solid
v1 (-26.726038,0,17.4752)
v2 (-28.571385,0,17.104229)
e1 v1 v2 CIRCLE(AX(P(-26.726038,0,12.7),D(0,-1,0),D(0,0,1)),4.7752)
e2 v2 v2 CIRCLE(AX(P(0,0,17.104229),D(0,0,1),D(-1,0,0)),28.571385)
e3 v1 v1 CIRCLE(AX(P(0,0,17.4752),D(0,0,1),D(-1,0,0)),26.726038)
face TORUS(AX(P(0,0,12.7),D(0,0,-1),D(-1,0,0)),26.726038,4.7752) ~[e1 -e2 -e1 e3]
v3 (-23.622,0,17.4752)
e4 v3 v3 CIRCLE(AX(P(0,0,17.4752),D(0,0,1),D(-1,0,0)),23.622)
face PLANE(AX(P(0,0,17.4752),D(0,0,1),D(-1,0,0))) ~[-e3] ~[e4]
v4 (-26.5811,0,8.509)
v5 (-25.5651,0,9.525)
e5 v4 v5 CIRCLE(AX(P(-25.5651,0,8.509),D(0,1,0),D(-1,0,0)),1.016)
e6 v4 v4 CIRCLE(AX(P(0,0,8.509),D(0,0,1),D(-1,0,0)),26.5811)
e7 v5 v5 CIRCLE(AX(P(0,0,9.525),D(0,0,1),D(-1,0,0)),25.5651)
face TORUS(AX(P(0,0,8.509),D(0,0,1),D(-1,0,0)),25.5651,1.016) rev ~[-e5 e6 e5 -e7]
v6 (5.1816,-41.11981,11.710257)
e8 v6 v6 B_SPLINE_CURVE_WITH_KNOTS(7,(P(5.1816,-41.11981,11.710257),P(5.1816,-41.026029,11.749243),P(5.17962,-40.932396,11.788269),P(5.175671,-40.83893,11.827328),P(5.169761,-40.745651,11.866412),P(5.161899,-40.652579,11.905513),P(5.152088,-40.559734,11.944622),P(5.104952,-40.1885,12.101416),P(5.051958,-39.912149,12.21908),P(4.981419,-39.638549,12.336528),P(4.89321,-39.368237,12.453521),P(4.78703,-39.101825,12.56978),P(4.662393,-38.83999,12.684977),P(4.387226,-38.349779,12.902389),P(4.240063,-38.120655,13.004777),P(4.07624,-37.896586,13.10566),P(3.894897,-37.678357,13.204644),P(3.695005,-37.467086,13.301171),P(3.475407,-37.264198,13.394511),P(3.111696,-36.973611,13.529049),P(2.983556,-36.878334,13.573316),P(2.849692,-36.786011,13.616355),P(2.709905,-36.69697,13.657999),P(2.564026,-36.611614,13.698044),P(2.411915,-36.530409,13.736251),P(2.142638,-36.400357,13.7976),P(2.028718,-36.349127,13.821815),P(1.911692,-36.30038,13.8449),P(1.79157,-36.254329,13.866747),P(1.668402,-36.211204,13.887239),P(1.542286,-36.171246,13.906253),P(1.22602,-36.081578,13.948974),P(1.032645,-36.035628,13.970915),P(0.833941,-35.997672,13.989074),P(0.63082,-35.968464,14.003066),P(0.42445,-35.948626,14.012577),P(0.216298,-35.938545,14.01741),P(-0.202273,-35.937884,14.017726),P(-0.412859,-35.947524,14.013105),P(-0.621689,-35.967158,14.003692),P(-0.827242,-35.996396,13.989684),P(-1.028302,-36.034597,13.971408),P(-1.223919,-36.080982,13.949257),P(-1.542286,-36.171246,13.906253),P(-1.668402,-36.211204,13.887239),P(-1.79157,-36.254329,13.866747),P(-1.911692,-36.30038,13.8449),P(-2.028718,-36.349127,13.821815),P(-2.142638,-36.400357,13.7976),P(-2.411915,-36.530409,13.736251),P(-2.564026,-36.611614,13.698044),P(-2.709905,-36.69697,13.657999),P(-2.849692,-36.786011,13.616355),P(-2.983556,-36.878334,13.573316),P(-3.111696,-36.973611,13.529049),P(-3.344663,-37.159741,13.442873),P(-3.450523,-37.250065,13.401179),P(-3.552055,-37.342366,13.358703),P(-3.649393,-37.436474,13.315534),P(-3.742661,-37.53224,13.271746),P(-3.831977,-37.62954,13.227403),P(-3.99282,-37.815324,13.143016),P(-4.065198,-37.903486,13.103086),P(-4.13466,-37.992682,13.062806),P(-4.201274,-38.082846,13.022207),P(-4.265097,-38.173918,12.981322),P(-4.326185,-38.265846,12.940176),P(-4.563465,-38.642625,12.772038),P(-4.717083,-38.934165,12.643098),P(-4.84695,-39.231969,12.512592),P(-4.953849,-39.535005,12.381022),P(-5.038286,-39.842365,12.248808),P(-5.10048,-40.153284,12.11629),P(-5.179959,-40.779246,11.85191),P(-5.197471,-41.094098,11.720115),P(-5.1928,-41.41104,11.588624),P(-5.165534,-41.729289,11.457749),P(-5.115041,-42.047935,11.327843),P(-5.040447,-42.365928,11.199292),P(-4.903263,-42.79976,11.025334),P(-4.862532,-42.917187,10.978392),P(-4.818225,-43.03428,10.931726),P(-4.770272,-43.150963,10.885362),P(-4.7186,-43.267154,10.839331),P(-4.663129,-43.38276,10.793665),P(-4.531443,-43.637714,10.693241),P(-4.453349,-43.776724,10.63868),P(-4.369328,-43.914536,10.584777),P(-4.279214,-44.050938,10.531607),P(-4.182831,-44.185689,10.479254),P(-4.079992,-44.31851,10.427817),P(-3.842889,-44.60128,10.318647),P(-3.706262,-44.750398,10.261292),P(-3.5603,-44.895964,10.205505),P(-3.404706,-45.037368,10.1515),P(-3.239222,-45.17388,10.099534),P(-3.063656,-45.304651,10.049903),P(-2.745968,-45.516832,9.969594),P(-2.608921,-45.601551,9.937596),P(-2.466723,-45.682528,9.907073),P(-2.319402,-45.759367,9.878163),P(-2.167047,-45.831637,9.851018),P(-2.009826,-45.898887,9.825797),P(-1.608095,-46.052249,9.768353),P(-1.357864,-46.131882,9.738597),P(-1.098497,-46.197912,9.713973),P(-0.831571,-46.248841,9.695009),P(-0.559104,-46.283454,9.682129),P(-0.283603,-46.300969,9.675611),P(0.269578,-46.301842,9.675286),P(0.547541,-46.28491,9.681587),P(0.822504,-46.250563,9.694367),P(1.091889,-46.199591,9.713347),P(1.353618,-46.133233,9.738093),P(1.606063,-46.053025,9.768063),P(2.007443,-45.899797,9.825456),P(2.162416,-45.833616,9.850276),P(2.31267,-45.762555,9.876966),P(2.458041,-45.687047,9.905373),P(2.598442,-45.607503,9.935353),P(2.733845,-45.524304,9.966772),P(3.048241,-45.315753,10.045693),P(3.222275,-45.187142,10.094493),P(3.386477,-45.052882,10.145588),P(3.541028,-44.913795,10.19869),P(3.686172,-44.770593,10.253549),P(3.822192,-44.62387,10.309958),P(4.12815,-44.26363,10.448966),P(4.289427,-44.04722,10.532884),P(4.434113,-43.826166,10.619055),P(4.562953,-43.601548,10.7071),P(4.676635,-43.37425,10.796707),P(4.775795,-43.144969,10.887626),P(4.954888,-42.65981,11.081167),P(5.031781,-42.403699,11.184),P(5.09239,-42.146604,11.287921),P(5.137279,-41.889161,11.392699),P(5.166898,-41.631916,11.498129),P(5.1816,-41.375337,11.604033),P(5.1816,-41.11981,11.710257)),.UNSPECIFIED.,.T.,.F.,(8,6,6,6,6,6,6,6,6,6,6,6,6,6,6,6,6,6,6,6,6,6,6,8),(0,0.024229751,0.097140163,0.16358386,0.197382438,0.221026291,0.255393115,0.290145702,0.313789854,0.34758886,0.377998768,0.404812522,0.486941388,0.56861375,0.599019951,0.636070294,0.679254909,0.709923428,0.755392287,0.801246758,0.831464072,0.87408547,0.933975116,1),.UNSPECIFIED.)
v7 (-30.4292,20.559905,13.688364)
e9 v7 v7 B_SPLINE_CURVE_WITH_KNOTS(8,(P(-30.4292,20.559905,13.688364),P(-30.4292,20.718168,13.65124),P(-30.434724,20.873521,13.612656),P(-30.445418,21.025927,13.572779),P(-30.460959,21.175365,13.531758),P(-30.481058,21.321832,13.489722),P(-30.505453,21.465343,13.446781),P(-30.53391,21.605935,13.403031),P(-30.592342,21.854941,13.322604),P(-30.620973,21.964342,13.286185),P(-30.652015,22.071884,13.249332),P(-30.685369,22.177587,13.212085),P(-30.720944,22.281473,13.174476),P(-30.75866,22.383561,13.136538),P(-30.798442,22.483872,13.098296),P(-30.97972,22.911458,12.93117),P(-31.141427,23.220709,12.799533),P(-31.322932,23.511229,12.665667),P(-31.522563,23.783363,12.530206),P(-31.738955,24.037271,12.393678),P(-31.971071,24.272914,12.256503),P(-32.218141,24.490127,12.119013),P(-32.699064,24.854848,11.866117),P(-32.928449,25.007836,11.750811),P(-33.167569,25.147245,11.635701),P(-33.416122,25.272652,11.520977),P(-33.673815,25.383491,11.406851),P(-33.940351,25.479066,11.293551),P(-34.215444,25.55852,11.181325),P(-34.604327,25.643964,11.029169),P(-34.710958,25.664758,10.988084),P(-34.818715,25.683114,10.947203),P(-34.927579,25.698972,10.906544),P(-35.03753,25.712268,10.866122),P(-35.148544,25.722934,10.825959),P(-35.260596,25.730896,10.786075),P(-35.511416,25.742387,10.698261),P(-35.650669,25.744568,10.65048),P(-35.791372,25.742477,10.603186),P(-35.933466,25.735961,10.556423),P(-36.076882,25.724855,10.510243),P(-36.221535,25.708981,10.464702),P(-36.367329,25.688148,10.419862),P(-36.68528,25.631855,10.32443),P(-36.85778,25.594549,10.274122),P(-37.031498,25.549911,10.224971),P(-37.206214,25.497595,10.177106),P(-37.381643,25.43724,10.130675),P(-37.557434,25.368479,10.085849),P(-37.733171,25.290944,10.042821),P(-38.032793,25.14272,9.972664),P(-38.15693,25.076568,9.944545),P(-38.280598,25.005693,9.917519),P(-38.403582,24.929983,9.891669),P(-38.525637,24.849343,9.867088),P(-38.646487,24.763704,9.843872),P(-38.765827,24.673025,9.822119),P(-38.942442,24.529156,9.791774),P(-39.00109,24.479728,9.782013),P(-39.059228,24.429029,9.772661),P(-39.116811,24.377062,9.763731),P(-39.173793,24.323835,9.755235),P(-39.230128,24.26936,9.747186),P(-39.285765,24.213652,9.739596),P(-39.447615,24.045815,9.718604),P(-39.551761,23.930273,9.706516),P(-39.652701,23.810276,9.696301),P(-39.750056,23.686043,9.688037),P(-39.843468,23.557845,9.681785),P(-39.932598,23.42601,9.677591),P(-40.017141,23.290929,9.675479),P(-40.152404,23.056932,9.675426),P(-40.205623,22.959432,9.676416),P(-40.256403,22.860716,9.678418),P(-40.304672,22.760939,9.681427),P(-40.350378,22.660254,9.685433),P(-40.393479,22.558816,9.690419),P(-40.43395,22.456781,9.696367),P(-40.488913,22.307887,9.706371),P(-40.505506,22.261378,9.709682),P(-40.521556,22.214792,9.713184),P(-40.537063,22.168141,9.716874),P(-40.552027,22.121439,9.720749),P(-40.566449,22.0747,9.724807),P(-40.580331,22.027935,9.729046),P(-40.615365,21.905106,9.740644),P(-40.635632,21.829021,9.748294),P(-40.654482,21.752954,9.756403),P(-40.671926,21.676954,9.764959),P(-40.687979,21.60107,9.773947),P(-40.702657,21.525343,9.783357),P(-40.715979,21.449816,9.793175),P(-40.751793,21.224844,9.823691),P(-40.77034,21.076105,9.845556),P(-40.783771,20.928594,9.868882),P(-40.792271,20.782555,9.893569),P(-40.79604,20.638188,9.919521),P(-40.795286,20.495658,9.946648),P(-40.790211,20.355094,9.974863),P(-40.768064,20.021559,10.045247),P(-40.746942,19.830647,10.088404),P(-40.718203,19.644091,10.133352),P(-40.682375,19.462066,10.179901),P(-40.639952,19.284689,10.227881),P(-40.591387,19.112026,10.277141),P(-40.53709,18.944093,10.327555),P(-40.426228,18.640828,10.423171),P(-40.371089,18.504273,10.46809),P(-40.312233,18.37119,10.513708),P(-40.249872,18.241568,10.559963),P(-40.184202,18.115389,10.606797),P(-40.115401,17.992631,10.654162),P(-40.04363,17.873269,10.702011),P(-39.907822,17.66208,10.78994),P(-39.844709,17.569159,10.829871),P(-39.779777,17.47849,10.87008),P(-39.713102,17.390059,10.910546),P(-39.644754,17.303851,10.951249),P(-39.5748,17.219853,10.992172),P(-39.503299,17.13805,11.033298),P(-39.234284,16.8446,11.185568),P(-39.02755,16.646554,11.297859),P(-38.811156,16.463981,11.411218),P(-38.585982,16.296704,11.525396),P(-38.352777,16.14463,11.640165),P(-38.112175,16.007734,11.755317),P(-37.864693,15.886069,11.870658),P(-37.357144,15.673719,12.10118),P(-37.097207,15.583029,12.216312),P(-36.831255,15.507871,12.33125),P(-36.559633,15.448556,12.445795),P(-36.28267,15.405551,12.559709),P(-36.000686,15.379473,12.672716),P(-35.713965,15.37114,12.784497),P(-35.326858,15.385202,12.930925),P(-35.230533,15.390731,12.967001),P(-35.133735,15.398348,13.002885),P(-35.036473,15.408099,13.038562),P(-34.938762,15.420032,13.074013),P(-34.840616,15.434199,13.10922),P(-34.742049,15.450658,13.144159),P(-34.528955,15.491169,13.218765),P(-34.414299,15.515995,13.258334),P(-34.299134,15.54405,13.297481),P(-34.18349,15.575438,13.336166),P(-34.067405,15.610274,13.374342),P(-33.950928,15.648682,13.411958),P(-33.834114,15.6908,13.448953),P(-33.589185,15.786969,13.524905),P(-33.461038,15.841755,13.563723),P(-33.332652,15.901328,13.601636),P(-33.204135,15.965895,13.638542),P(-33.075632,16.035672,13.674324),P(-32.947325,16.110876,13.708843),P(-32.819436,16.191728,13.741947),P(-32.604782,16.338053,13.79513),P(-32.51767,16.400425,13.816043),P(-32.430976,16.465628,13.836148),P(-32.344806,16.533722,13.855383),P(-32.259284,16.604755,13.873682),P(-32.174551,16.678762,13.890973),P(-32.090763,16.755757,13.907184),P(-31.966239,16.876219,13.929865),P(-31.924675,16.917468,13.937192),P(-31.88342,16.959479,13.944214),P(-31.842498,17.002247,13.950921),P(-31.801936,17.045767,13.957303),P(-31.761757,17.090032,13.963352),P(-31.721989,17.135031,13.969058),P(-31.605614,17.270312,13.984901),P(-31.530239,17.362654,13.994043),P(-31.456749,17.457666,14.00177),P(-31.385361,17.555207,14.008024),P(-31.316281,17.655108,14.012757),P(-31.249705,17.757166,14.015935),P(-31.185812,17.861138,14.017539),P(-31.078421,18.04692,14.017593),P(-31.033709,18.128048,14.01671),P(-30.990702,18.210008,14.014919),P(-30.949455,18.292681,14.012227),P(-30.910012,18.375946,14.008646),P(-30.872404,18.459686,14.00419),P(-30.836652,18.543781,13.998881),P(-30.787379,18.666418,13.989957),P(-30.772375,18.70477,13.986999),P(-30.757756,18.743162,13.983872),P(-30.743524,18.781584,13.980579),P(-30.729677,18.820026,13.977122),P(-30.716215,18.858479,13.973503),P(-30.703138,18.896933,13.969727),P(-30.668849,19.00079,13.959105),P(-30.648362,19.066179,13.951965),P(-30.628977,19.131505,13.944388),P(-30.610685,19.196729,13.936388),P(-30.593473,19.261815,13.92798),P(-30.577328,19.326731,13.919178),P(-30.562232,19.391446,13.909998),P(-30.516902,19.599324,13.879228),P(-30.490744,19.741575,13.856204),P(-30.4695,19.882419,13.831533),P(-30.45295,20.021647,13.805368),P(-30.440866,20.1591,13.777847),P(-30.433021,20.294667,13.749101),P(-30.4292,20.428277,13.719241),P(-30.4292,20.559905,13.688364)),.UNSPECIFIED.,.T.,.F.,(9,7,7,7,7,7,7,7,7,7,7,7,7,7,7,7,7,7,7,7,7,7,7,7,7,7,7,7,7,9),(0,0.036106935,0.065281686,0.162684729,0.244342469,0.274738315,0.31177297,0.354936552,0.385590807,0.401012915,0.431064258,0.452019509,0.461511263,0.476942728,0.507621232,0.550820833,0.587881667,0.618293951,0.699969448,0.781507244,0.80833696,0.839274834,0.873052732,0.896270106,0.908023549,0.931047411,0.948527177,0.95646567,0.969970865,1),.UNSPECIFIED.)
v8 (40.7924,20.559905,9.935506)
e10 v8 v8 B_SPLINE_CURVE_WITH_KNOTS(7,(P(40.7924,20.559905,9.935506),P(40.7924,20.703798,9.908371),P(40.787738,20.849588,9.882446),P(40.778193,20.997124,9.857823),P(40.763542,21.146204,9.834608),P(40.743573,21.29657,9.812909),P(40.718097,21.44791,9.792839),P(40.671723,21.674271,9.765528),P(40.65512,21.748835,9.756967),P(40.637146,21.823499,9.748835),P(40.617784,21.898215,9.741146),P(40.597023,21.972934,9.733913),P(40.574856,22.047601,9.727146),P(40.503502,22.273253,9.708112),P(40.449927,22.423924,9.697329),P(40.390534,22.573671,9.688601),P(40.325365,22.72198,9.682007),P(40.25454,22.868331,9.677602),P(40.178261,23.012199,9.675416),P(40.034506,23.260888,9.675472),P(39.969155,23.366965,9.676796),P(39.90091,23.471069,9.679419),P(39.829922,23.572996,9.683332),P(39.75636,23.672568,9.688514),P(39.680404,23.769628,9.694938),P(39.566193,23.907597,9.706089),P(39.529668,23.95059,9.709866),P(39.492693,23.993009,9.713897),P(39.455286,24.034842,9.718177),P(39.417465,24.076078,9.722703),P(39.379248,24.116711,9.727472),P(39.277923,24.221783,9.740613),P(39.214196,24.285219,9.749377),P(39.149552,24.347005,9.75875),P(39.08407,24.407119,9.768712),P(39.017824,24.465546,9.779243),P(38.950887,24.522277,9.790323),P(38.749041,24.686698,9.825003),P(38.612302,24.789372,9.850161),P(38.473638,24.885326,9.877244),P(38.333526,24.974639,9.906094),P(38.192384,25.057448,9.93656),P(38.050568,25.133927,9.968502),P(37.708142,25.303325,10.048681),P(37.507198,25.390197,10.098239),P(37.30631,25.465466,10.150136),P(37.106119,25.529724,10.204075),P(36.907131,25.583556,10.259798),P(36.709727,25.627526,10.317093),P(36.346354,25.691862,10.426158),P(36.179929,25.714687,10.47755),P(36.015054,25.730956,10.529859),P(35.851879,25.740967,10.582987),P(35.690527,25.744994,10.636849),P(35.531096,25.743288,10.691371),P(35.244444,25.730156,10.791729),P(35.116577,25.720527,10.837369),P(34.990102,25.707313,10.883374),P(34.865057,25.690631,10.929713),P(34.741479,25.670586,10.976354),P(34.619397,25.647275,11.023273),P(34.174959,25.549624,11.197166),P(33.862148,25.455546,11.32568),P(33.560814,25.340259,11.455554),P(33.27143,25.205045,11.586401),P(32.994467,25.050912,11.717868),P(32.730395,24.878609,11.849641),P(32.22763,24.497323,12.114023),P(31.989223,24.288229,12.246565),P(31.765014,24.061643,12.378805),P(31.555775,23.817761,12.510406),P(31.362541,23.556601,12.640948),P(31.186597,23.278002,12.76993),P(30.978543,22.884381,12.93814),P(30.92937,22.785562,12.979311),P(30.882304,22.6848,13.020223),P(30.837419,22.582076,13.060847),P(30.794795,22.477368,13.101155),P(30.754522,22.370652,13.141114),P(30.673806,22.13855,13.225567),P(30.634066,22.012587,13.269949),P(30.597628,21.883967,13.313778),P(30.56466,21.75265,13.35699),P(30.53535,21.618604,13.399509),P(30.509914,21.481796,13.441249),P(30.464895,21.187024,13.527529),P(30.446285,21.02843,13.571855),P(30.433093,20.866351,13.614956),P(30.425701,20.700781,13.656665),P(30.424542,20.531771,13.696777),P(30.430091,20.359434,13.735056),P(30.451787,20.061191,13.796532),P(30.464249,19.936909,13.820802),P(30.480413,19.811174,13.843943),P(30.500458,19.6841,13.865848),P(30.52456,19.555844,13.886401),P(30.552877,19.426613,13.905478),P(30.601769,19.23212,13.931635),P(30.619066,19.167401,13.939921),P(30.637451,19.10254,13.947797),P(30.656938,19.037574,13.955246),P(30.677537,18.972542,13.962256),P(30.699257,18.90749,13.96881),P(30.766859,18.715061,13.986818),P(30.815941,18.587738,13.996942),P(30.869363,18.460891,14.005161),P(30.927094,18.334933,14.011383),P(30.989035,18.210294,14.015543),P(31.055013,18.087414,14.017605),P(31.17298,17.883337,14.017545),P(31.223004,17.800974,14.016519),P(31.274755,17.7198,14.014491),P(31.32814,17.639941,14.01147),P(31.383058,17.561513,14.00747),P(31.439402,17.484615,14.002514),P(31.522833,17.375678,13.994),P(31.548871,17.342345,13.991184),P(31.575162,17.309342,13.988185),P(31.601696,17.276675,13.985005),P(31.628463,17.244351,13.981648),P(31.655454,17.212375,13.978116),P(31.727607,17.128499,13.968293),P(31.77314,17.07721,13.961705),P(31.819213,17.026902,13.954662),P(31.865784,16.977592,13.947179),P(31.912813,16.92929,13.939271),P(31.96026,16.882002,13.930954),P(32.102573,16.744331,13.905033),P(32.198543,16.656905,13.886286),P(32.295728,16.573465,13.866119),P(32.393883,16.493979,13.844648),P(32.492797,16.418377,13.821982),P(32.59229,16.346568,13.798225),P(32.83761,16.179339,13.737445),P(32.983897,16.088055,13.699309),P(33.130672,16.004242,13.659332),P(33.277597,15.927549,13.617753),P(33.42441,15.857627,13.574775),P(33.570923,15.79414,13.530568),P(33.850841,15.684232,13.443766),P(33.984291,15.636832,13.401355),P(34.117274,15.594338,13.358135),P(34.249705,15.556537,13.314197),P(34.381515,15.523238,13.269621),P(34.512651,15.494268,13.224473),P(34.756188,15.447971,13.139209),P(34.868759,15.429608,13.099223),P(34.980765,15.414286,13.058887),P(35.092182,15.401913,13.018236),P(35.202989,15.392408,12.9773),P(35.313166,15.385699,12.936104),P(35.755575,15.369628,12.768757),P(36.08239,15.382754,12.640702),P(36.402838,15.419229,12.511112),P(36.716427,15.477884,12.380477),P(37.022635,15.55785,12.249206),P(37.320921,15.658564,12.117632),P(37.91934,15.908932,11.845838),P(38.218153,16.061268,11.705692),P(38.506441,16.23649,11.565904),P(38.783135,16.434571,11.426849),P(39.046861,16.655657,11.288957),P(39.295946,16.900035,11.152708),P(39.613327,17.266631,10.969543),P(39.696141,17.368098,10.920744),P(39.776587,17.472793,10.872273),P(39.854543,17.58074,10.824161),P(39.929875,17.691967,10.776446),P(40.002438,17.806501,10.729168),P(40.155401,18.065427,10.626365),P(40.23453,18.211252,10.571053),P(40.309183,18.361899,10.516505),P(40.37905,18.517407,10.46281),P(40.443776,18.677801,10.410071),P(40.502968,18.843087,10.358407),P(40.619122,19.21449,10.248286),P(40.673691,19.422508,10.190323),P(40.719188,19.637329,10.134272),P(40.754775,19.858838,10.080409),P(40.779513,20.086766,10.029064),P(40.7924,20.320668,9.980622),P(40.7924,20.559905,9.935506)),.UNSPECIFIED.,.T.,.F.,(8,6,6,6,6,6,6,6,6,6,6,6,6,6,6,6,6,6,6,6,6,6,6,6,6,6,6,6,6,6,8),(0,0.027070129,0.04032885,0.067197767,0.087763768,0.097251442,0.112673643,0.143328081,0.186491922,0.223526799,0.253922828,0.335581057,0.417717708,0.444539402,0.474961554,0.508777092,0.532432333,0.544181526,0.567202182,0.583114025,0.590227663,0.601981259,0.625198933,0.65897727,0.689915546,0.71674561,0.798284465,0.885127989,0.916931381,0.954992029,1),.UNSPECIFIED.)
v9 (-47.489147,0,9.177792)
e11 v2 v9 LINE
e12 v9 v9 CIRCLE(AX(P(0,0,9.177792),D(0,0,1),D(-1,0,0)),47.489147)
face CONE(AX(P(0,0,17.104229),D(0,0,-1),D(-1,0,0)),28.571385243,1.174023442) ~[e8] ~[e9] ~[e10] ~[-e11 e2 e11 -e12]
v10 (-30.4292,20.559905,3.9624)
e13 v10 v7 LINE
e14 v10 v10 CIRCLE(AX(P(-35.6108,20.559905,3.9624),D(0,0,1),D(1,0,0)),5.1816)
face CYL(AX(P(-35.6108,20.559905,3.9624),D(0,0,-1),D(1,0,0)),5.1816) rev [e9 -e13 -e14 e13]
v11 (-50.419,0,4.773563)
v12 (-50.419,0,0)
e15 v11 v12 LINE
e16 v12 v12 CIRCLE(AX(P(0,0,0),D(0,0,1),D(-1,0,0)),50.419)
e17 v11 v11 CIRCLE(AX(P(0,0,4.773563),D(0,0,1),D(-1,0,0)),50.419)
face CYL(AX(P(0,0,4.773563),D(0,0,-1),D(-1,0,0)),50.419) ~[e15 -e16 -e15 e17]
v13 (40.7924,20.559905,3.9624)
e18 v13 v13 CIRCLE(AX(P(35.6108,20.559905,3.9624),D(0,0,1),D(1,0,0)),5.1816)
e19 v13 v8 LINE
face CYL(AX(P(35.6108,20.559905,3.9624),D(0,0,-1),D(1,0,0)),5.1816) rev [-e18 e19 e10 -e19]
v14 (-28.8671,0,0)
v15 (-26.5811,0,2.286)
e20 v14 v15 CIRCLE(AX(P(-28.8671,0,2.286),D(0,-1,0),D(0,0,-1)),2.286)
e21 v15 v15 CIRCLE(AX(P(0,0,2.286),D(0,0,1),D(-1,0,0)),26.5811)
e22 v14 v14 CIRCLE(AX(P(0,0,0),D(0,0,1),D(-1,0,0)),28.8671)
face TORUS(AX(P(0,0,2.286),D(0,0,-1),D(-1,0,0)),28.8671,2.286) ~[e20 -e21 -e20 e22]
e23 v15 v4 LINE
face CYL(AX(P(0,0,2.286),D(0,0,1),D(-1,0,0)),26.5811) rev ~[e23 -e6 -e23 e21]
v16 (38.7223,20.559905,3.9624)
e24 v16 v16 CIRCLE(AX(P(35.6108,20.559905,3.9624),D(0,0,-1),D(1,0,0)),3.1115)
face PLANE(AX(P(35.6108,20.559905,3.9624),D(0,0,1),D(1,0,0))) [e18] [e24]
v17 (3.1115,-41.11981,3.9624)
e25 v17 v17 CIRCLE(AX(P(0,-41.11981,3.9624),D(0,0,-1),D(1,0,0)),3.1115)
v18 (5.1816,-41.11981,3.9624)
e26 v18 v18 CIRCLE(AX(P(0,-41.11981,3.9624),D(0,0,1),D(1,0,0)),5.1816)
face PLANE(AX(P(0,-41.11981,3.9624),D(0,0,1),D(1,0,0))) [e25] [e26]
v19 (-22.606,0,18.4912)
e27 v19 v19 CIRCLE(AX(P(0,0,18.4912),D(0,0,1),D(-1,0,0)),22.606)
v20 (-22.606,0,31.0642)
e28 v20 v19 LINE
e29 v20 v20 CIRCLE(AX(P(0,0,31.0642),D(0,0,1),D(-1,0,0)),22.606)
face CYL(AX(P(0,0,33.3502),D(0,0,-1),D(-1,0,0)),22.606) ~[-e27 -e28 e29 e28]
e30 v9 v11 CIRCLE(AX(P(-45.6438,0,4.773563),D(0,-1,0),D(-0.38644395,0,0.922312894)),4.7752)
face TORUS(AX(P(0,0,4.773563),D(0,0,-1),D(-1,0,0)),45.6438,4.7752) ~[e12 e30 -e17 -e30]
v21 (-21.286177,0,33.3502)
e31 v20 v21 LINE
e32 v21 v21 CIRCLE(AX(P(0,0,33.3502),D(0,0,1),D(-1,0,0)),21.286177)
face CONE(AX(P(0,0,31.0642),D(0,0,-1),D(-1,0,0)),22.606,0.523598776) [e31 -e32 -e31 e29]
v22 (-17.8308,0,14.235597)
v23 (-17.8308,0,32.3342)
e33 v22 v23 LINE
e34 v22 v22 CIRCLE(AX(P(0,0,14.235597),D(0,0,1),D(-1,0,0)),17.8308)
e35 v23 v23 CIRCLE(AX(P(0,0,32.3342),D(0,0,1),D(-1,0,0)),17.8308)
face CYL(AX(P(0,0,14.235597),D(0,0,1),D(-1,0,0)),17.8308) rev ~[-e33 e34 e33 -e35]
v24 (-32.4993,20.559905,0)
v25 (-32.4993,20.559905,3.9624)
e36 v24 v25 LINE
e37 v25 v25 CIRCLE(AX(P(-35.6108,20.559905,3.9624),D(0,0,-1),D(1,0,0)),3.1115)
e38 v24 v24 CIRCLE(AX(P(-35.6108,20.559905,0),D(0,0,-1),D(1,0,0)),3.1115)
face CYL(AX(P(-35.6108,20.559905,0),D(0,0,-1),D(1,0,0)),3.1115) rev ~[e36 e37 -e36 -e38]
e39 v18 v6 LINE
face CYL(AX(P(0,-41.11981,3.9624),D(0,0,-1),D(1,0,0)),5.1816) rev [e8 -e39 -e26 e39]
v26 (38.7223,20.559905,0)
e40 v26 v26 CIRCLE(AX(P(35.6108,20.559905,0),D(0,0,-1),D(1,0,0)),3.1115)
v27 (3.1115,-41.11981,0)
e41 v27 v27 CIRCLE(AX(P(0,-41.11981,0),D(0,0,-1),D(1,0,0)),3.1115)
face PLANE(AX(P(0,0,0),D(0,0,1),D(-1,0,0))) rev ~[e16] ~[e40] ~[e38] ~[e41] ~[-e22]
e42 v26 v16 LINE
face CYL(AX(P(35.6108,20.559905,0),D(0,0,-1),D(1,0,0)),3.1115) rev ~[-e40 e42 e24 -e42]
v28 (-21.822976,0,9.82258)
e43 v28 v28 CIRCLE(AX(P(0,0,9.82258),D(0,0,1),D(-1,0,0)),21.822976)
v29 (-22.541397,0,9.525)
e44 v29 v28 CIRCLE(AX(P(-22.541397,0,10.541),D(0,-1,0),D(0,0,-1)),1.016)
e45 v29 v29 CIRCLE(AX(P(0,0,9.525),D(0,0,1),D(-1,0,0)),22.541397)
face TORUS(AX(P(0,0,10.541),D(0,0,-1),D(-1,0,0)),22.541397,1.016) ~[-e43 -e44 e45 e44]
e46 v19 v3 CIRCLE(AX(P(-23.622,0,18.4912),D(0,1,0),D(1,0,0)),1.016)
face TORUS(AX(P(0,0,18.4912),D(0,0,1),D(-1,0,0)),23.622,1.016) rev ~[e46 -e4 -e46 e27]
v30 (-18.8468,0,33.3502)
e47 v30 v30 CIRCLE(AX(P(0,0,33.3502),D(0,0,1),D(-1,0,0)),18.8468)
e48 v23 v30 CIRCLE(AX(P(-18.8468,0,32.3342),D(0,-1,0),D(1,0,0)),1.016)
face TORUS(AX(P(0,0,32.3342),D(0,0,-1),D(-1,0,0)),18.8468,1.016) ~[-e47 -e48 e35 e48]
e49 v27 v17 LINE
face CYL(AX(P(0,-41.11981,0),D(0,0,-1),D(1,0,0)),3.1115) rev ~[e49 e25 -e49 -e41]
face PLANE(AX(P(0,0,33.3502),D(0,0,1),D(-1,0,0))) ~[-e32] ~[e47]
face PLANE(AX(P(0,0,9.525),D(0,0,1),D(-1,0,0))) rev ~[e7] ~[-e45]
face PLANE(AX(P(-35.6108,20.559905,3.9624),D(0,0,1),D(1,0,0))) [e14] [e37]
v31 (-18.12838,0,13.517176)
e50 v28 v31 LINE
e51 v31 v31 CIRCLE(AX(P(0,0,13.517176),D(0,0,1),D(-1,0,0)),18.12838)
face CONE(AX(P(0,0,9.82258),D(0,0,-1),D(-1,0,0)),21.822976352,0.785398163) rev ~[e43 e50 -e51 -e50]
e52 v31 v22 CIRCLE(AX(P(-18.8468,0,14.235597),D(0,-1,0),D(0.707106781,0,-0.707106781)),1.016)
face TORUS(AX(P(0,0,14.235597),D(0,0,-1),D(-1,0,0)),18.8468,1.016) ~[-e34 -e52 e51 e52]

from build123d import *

# Parameters (mm, degrees)
F3_SIZE2 = 1.3198227154
F3_SIZE  = 2.286
F4_R     = 3.1115
F5_DEPTH = 33.3512
F7_R     = 5.1816
F8_DEPTH = 29.3888


with BuildPart() as f2:
    # F0 (on Front) → F2 (revolve)
    with BuildSketch(Plane.XZ):
        with BuildLine():
            Line((-50.419, 0), (-28.8671, 0))
            ThreePointArc((-28.8671, 0), (-27.2506538982, 0.6695538982), (-26.5811, 2.286))
            Line((-26.5811, 2.286), (-26.5811, 8.509))
            ThreePointArc((-26.5811, 8.509), (-26.2835204897, 9.2274204897), (-25.5651, 9.525))
            Line((-25.5651, 9.525), (-22.5413968422, 9.525))
            ThreePointArc((-22.5413968422, 9.525), (-22.1525904749, 9.602338395), (-21.8229763525, 9.8225795103))
            Line((-21.8229763525, 9.8225795103), (-18.1283795103, 13.5171763525))
            ThreePointArc((-18.1283795103, 13.5171763525), (-17.908138395, 13.8467904749), (-17.8308, 14.2355968422))
            Line((-17.8308, 14.2355968422), (-17.8308, 32.3342))
            ThreePointArc((-17.8308, 32.3342), (-18.1283795103, 33.0526204897), (-18.8468, 33.3502))
            Line((-18.8468, 33.3502), (-22.606, 33.3502))
            Line((-22.606, 33.3502), (-22.606, 18.4912))
            ThreePointArc((-22.606, 18.4912), (-22.9035795103, 17.7727795103), (-23.622, 17.4752))
            Line((-23.622, 17.4752), (-26.726038094, 17.4752))
            ThreePointArc((-26.726038094, 17.4752), (-27.6671711788, 17.3815385886), (-28.5713852432, 17.1042285294))
            Line((-28.5713852432, 17.1042285294), (-47.4891471492, 9.1777919766))
            ThreePointArc((-47.4891471492, 9.1777919766), (-49.6196292686, 7.4184295434), (-50.419, 4.7735634472))
            Line((-50.419, 4.7735634472), (-50.419, 0))
        make_face()
    revolve(axis=Axis((0, 0, 16.6751), (0, 0, 1)))

    # F3
    f3_edges = [f2.edges().sort_by_distance(p)[0] for p in [
        (22.606, 0, 33.3502),
    ]]
    f3_side = f2.faces().sort_by_distance((22.606, 0, 25.9207))[0]
    chamfer(f3_edges, length=F3_SIZE, length2=F3_SIZE2, reference=f3_side)

    # F4 (on face) → F5 (cut, through all)
    with BuildSketch(Plane(origin=(0, 0, 0), x_dir=(1, 0, 0), z_dir=(0, 0, -1))):
        with Locations((35.6108, -20.5599049661)):
            Circle(F4_R)
        with Locations((-35.6108, -20.5599049661)):
            Circle(F4_R)
        with Locations((0, 41.1198099321)):
            Circle(F4_R)
    extrude(amount=-F5_DEPTH, mode=Mode.SUBTRACT)

    # F7 (on offset) → F8 (cut, through all)
    with BuildSketch(Plane.XY.offset(3.9624)):
        with Locations((0, -41.1198099321)):
            Circle(F7_R)
        with Locations((35.6108, 20.5599049661)):
            Circle(F7_R)
        with Locations((-35.6108, 20.5599049661)):
            Circle(F7_R)
    extrude(amount=F8_DEPTH, mode=Mode.SUBTRACT)


solid = f2.part
